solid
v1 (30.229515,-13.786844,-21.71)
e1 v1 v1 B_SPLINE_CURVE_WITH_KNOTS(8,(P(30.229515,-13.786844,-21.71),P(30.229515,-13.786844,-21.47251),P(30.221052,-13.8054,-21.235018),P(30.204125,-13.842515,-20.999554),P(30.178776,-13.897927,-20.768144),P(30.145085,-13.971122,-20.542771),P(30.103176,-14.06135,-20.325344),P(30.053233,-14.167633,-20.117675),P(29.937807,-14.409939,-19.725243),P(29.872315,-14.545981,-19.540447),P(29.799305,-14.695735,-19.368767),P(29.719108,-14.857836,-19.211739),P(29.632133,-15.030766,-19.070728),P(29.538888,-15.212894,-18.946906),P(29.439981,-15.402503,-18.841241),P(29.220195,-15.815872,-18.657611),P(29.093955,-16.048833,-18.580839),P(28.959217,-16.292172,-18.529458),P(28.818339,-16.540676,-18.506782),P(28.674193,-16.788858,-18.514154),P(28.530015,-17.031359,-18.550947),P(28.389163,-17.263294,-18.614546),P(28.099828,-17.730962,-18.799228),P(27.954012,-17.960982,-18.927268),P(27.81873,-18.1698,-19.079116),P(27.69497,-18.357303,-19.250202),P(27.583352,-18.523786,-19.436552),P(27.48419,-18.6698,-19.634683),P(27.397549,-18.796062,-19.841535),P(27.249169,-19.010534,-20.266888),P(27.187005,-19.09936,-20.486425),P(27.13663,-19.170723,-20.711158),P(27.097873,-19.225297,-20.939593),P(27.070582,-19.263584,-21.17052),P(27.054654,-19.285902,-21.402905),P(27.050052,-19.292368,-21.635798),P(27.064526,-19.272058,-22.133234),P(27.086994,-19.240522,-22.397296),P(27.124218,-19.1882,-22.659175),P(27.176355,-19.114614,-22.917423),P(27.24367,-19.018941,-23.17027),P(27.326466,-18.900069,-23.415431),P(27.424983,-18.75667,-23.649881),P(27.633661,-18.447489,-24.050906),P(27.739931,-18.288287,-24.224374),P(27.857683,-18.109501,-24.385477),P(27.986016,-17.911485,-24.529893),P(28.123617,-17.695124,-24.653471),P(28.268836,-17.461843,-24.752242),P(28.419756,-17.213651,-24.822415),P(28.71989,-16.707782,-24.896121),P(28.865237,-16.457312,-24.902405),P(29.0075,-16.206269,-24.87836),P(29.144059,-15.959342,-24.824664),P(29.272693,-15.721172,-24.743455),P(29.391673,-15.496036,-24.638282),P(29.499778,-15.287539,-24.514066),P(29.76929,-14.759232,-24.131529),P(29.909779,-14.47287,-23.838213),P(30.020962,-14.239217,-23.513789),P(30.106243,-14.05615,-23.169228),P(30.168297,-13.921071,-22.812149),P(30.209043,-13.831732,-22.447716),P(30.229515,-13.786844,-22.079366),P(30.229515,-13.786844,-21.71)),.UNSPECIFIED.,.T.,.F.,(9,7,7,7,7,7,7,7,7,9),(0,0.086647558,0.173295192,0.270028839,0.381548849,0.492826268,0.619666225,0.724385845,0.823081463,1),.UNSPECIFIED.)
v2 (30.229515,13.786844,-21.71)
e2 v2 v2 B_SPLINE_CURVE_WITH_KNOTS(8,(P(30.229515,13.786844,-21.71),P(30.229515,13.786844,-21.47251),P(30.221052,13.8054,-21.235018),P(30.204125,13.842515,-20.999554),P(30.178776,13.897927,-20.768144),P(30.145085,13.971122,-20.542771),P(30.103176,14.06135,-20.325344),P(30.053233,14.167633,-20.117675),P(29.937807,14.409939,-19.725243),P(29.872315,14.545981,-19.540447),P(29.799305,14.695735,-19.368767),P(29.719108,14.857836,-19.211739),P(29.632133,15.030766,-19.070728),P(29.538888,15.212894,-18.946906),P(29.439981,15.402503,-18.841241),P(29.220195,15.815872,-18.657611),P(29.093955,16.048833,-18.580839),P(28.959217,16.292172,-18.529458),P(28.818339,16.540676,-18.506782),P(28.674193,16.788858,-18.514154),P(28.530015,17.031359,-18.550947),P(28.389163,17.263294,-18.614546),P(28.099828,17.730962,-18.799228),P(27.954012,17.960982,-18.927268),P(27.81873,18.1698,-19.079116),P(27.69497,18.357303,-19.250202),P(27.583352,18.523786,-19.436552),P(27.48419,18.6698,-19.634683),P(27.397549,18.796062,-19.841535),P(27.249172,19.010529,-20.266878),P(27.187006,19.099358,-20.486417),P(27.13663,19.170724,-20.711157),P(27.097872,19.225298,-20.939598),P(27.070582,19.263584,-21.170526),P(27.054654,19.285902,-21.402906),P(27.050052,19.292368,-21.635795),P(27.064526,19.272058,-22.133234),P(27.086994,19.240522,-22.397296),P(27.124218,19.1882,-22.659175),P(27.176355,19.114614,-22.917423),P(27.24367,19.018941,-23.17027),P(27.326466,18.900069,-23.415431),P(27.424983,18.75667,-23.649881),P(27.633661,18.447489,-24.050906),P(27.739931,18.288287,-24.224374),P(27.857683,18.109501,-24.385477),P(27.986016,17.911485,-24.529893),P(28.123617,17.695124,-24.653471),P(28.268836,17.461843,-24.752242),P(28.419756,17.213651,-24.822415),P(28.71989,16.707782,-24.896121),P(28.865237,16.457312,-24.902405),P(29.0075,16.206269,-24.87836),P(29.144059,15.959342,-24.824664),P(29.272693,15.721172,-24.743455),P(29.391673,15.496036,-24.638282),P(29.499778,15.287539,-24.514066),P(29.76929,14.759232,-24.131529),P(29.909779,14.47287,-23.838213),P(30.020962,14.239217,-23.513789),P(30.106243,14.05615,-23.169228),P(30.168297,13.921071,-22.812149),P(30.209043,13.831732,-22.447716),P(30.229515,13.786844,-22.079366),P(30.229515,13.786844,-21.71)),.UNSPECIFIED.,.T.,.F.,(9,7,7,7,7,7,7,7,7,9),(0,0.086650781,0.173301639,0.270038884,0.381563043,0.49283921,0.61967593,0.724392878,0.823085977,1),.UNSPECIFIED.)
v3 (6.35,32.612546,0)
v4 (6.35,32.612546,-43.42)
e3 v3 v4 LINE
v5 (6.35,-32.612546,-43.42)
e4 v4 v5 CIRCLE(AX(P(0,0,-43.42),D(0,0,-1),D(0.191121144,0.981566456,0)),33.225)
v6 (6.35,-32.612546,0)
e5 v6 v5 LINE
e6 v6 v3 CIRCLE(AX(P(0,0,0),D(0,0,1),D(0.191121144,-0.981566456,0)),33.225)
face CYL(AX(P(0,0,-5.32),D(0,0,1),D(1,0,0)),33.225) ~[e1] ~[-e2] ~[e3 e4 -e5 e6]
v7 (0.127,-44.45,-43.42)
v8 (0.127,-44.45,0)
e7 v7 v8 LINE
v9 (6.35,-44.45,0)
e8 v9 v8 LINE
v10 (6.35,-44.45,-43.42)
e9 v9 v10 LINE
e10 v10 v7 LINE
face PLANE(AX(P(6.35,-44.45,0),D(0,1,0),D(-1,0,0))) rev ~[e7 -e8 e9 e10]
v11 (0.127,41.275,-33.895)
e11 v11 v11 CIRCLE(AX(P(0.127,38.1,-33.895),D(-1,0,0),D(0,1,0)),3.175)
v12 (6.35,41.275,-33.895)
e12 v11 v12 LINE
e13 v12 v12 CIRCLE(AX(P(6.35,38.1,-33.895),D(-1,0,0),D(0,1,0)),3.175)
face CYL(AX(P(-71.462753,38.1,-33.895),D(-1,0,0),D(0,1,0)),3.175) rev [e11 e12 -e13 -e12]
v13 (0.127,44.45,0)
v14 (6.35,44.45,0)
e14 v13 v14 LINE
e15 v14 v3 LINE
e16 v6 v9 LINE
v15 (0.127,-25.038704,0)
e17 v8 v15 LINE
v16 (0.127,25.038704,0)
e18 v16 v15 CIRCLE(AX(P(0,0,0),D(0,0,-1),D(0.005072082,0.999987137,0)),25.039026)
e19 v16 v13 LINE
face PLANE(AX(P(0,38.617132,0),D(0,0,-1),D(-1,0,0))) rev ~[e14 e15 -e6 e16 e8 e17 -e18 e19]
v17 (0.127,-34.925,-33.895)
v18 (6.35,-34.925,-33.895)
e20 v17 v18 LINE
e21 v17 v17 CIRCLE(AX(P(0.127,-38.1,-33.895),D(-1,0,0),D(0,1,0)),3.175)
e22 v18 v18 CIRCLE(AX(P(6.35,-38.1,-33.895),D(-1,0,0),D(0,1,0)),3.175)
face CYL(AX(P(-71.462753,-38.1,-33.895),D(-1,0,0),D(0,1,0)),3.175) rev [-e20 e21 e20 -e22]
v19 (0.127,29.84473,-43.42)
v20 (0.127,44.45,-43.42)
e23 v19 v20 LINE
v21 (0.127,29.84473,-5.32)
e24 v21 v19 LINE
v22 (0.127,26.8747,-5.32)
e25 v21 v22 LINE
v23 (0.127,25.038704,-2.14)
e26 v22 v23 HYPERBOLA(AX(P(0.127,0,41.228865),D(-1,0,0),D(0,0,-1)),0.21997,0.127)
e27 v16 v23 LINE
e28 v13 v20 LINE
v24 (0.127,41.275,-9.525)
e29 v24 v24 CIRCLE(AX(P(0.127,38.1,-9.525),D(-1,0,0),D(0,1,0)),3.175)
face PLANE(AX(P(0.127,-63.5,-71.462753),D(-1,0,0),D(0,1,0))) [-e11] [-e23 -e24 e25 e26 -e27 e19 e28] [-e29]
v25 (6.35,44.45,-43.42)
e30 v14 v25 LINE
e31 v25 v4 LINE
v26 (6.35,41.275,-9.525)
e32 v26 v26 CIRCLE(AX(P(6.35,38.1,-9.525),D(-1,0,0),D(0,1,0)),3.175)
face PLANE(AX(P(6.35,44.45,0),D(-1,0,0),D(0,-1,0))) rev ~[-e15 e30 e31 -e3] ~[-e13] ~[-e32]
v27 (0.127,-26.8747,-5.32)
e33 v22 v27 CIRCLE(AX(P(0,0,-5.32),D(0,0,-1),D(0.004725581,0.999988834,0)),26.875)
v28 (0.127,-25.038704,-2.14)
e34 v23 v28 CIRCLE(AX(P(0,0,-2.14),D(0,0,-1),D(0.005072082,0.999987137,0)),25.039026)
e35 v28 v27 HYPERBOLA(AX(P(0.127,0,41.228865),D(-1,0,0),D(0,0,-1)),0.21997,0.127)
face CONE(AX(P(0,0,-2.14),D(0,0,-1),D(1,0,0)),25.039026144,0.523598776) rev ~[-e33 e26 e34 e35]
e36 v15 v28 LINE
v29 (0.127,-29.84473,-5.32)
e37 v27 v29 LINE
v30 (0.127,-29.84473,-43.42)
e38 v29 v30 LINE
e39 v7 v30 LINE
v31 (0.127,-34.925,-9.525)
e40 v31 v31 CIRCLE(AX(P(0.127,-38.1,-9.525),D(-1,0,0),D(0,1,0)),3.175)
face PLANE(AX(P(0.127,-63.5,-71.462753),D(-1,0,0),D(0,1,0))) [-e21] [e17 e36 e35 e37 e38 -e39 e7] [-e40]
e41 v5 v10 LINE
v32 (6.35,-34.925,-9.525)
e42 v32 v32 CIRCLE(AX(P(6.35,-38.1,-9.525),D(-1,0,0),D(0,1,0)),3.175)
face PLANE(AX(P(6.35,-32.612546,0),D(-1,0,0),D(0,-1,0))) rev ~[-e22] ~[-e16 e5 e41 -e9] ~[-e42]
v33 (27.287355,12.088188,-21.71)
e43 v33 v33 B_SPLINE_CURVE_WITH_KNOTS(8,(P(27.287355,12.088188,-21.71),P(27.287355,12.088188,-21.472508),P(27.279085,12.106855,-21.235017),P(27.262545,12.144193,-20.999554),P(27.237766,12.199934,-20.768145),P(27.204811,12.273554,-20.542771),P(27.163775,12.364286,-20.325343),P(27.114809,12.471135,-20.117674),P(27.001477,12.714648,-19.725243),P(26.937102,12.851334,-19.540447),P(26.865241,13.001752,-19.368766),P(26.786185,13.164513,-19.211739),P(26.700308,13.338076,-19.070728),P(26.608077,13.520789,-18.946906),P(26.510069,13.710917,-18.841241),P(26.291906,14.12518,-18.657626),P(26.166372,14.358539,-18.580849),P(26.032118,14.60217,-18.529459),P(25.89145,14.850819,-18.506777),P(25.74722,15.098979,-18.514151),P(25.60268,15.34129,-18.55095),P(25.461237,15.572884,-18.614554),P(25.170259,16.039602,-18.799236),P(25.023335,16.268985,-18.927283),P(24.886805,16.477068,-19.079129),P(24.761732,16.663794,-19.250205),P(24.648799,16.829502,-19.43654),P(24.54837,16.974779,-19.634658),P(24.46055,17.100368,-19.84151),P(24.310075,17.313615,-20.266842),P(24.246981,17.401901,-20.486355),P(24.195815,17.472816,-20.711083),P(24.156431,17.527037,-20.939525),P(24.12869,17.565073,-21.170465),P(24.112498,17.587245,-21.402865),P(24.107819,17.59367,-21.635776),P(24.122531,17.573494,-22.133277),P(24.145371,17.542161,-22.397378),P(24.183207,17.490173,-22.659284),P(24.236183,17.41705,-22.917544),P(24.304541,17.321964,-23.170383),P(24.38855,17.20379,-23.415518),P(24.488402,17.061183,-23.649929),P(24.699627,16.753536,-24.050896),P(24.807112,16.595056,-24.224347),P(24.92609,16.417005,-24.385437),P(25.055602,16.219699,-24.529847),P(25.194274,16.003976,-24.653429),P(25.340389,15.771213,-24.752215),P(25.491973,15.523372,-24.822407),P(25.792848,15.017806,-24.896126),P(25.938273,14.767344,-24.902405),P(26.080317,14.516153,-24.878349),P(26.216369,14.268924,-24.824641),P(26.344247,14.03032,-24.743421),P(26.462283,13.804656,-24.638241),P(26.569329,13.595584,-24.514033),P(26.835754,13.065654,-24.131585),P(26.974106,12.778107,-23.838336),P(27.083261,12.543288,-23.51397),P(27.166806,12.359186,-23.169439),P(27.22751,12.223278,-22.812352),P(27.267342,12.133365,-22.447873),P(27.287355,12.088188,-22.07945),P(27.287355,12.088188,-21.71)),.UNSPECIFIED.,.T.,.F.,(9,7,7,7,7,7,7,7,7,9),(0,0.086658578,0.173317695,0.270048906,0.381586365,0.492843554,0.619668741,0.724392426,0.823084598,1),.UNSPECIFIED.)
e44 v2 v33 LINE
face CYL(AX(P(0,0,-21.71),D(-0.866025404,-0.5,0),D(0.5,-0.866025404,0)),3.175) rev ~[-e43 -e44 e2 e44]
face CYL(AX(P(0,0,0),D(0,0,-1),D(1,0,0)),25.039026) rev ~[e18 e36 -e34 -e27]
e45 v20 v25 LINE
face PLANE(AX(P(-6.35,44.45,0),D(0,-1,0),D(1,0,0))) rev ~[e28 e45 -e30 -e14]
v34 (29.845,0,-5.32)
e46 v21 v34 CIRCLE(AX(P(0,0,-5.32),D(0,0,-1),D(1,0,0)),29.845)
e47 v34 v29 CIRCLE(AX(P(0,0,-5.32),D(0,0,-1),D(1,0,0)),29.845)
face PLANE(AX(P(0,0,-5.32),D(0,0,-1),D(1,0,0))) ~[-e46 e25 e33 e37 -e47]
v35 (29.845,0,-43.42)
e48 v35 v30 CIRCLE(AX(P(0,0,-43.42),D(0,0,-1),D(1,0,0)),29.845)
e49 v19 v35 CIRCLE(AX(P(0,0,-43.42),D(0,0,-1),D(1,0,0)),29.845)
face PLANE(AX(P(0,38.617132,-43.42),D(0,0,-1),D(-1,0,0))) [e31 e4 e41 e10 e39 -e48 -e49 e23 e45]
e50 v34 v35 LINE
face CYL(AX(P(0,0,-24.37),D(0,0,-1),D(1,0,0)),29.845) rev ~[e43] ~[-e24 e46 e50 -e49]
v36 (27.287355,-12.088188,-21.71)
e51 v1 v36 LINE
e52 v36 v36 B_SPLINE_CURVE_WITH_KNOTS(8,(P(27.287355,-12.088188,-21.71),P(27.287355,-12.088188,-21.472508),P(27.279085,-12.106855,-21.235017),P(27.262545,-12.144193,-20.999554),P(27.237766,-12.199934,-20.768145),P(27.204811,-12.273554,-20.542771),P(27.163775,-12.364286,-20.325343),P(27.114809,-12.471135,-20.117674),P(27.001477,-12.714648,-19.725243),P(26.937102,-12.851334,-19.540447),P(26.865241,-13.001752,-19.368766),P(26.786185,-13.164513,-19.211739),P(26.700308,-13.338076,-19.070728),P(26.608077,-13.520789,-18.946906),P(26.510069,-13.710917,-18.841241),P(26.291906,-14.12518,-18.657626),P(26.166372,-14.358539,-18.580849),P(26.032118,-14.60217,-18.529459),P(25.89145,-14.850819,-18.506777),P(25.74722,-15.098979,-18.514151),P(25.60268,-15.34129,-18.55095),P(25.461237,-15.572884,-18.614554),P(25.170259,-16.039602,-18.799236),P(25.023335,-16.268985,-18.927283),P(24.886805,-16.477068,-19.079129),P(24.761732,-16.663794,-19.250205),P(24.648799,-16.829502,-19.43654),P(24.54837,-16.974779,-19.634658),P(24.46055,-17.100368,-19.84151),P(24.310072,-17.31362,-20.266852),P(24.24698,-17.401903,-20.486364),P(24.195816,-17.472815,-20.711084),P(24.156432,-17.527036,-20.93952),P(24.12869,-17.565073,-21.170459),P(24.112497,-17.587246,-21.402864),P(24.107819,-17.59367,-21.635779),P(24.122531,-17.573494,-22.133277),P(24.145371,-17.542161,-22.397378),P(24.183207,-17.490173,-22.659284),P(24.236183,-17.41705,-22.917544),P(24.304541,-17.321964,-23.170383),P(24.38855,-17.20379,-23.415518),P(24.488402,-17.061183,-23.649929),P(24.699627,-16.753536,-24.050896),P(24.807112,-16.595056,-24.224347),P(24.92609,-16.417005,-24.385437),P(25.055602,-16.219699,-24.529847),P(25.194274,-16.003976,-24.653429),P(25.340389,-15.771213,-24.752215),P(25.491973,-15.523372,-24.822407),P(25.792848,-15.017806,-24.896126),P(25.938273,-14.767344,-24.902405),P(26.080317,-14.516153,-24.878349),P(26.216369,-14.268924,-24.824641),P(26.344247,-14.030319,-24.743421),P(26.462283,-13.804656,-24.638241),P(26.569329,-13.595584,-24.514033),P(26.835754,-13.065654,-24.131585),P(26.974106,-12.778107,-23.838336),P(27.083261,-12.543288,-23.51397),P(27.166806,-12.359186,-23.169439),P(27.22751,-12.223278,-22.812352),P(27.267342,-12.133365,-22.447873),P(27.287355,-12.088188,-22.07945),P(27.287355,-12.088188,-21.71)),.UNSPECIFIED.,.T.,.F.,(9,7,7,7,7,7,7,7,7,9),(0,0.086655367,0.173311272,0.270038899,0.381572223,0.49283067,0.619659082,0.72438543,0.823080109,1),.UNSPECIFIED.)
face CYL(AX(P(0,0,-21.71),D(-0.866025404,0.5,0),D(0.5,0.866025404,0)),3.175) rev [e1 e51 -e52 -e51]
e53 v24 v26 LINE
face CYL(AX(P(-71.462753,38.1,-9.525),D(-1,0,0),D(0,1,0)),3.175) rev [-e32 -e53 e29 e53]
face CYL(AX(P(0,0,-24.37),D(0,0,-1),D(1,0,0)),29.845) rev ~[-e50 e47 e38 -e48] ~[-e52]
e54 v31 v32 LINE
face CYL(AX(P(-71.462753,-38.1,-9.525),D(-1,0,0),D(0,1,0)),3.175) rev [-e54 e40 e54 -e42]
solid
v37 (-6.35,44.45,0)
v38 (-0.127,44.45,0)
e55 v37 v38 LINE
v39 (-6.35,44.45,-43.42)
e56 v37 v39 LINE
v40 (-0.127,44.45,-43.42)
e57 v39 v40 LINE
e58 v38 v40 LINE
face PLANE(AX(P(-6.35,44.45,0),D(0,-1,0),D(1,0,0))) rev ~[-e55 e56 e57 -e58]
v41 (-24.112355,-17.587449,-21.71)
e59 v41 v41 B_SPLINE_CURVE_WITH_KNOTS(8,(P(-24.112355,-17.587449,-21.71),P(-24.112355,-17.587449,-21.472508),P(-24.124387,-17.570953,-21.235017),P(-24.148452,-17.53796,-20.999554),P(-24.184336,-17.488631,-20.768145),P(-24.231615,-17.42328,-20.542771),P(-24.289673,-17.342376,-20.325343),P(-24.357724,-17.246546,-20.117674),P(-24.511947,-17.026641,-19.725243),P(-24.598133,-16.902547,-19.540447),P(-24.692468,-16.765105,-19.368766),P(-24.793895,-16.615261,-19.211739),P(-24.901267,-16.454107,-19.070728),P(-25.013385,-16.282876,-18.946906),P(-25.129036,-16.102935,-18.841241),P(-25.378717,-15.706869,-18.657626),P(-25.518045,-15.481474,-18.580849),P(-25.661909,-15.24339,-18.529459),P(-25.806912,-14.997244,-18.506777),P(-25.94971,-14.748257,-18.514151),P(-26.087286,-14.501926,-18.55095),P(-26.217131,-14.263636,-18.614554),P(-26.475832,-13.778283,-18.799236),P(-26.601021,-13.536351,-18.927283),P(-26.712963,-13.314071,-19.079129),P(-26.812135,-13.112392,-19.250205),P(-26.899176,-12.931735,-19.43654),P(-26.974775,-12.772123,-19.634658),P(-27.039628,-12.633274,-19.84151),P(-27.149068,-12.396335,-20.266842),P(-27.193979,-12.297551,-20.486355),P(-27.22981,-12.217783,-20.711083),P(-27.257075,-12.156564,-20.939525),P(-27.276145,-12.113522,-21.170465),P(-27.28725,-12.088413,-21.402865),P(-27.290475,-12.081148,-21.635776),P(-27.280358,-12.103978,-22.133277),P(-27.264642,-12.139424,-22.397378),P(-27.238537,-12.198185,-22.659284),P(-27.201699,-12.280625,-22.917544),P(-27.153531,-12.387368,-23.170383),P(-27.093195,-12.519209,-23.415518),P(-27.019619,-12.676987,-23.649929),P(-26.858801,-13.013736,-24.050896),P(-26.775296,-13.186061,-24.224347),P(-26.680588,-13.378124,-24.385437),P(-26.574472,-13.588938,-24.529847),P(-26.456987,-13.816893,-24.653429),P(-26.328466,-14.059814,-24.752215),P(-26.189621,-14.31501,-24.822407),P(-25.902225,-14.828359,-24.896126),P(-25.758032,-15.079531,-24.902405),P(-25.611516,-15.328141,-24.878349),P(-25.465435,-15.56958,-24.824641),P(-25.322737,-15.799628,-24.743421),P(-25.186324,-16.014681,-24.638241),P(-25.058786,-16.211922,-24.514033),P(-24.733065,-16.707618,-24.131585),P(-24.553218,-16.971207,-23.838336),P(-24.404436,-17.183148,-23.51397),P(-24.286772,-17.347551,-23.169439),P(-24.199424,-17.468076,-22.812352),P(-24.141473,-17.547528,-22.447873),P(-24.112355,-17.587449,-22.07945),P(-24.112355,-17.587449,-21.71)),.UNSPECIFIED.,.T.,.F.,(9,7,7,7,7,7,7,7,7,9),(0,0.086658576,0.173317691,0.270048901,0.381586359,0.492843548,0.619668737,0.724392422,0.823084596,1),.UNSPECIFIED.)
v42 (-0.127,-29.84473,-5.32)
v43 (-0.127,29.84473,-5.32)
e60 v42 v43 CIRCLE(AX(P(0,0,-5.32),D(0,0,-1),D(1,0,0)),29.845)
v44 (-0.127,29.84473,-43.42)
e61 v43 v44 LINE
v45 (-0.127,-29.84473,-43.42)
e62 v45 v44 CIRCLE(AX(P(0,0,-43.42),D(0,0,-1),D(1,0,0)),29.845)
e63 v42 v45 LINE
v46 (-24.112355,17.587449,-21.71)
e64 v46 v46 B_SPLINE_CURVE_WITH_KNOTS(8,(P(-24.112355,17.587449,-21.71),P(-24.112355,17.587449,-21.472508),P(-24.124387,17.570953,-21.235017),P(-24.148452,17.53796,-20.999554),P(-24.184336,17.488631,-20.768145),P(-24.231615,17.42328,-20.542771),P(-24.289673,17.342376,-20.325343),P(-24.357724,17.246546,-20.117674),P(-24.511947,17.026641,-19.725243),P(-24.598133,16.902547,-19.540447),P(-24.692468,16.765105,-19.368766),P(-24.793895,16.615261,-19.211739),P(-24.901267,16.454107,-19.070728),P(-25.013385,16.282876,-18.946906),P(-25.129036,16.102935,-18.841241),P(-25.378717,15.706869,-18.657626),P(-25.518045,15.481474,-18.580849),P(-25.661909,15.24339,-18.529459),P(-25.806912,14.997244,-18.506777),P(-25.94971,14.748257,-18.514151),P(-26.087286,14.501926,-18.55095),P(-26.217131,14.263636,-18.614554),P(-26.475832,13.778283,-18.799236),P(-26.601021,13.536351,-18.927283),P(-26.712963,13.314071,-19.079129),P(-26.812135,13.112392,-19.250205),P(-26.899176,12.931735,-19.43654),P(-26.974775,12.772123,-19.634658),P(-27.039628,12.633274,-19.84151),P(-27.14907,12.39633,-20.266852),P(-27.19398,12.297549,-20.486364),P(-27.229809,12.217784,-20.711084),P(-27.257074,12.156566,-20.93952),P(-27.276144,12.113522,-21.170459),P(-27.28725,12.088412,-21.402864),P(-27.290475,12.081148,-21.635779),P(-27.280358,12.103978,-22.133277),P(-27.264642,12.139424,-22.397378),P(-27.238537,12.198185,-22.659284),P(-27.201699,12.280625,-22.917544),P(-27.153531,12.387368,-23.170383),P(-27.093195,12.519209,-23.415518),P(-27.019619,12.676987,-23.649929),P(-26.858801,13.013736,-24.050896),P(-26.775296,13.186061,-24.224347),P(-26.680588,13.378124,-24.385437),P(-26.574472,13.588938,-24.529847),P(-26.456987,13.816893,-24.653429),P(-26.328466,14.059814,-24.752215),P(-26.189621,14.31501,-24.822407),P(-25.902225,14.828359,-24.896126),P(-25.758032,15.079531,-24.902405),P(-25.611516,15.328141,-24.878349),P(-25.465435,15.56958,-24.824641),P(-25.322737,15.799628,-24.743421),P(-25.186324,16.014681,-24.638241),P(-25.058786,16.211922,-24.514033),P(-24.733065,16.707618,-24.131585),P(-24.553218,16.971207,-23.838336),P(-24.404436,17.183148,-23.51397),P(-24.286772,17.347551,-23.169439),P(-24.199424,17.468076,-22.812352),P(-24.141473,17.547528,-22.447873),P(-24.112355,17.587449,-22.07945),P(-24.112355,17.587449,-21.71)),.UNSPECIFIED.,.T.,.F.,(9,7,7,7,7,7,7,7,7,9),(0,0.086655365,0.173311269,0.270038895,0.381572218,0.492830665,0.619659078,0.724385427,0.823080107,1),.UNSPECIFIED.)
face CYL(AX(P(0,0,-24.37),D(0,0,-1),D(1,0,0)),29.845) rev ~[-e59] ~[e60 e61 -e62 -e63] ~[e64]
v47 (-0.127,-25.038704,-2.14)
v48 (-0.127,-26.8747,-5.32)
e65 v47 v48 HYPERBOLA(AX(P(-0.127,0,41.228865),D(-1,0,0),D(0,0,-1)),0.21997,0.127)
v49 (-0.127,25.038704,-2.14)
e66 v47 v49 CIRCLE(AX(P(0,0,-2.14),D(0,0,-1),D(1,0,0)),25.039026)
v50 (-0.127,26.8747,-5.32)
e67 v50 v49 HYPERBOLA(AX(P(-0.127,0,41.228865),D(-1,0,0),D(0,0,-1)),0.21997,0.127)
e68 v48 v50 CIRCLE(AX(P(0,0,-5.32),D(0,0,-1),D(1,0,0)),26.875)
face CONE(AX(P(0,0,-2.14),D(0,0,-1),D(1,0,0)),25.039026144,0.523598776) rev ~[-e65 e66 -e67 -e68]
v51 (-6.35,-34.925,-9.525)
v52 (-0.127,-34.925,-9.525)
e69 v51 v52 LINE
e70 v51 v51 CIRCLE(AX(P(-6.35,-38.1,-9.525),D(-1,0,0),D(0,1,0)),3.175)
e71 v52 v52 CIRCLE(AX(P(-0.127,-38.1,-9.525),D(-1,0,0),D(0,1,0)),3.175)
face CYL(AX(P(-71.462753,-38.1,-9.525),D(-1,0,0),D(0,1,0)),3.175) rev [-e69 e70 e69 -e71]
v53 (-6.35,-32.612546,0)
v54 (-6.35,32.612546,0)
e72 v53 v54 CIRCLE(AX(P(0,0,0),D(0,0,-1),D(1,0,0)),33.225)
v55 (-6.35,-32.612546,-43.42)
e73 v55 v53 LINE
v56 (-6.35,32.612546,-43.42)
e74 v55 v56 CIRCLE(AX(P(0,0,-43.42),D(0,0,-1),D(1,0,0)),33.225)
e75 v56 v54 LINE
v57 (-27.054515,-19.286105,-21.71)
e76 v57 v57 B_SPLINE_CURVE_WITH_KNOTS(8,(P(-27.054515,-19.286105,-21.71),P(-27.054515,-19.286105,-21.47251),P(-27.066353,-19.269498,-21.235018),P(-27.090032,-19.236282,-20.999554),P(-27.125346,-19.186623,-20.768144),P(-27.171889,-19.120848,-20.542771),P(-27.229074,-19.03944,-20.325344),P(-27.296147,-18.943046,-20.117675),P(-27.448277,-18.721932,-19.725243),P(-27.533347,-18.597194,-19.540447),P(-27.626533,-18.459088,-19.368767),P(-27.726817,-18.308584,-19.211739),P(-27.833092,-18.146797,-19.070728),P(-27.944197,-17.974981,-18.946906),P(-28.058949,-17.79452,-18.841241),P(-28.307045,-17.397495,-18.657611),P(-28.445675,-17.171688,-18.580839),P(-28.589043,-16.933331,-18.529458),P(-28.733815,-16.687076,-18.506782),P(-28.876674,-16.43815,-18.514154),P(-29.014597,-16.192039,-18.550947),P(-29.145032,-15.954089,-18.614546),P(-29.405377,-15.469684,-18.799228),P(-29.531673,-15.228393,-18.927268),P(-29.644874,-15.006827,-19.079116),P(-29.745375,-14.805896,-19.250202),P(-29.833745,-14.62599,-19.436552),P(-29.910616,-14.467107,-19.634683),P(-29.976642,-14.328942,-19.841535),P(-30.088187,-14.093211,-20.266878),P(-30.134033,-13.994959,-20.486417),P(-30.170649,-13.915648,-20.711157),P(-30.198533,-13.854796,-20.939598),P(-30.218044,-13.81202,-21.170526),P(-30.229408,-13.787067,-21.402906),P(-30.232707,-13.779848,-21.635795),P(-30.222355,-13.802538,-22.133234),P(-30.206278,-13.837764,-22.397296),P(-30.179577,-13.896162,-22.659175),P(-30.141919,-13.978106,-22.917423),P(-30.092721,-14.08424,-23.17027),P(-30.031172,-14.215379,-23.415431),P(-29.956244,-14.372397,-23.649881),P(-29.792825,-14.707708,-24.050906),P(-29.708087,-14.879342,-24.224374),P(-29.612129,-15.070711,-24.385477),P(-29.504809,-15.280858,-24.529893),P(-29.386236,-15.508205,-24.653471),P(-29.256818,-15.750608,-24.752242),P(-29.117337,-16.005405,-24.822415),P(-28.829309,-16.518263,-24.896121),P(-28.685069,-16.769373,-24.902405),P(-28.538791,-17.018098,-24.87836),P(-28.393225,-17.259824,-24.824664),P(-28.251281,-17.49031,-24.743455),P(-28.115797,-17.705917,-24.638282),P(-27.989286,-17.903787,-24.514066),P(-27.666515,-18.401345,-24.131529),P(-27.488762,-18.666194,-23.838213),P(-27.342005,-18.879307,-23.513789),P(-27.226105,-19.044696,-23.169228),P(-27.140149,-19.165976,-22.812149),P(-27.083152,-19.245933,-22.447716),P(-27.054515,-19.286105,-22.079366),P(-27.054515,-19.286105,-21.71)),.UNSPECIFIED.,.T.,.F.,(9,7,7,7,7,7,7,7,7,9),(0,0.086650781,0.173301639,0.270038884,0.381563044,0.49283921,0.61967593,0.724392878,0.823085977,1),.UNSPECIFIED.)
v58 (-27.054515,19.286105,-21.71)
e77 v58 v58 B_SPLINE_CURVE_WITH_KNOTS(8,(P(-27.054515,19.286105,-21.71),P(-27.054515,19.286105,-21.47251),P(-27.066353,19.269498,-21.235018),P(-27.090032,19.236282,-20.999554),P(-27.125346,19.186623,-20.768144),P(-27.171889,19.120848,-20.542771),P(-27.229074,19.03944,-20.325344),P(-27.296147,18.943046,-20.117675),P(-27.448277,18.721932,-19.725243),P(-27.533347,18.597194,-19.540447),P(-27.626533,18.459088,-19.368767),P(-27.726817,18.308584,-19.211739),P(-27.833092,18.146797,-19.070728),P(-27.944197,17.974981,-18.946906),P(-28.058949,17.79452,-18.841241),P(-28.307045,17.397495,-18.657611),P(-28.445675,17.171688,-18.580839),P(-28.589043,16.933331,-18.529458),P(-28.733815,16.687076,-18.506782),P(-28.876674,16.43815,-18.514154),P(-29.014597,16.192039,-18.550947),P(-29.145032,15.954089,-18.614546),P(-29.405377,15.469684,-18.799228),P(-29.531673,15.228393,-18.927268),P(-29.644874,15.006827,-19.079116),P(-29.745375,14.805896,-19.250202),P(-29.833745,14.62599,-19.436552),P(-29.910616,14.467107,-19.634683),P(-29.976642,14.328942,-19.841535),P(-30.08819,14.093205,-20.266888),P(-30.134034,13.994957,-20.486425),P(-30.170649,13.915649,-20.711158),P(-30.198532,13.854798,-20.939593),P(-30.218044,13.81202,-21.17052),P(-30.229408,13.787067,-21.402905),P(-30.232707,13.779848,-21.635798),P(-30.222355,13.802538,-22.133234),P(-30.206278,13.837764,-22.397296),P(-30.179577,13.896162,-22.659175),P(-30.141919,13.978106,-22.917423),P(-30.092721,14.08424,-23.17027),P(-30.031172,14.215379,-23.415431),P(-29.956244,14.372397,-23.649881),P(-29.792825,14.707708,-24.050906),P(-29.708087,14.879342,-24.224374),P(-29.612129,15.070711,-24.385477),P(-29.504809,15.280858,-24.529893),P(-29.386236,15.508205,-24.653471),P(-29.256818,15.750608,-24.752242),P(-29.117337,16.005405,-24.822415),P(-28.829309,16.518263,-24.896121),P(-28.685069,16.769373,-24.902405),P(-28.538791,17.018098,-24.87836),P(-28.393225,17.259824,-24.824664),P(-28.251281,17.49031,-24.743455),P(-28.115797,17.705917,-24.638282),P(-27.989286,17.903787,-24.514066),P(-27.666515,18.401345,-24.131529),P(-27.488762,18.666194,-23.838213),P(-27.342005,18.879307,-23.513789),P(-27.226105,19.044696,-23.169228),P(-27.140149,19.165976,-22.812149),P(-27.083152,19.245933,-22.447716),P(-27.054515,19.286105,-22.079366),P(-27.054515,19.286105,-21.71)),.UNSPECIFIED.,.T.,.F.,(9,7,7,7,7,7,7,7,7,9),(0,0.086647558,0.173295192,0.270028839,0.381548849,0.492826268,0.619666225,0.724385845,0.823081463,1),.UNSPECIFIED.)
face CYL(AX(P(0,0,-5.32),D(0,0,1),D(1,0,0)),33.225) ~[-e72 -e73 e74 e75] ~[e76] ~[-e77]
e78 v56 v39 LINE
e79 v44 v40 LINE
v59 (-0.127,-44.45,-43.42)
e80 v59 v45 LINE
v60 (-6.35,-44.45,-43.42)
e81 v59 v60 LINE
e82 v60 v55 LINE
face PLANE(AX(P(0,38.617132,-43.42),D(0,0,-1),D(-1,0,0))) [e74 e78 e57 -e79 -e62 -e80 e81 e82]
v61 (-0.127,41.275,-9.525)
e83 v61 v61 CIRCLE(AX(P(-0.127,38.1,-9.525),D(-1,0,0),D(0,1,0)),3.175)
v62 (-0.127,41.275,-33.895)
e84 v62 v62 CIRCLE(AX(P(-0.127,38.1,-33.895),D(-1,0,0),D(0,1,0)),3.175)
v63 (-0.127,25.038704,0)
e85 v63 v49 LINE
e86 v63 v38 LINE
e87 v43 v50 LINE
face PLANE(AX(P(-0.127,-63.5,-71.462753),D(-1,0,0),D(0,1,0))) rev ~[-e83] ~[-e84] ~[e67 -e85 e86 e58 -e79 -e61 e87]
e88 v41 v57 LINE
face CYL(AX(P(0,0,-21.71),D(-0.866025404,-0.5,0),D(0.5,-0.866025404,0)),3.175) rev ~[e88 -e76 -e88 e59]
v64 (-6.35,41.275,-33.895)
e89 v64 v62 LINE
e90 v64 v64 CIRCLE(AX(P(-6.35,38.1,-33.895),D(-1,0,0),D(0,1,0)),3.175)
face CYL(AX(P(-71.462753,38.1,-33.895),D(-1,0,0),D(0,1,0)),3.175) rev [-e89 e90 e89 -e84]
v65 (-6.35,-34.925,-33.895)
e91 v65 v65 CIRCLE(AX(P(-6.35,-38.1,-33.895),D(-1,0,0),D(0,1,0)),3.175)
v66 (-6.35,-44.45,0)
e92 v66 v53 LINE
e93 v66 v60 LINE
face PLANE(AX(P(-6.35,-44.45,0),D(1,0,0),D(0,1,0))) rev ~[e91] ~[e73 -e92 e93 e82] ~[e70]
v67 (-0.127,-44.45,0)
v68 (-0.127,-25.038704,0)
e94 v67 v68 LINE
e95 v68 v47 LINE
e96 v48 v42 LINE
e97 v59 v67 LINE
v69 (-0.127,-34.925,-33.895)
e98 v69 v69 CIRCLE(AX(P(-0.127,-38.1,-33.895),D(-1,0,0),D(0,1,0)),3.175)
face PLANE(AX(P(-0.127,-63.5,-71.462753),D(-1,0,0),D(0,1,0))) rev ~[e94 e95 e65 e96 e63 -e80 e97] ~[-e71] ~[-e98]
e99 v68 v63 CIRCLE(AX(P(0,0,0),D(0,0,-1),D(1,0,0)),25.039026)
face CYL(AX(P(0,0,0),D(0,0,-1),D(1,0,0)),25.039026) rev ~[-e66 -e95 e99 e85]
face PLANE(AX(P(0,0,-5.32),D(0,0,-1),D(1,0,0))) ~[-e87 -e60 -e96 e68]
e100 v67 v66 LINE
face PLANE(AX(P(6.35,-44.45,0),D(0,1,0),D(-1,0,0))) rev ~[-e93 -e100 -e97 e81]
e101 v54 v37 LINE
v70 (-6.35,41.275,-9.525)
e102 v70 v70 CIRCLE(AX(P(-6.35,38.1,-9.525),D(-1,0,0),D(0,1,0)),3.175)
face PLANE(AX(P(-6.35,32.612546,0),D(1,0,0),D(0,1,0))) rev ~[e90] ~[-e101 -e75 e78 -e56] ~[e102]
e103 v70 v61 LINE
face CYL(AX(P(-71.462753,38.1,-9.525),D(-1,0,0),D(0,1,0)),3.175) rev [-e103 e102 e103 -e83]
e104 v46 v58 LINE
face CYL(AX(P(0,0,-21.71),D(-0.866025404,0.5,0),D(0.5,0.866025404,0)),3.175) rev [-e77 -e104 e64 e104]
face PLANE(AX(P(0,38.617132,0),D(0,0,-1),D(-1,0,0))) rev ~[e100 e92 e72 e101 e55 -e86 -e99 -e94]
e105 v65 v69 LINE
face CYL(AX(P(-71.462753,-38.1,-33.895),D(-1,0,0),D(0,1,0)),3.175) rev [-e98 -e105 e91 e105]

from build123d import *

# Parameters (mm, degrees)
SKETCH8_W                = 3.38
SKETCH8_H                = 38.1
BOSS_EXTRUDE10_DEPTH     = 43.42
CUT_EXTRUDE7_DEPTH       = 71.462752749
CUT_EXTRUDE7_DEPTH_BACK  = 71.462752749
SKETCH18_R               = 3.175
SKETCH23_R               = 3.175
CUT_EXTRUDE9_DEPTH       = 71.462752749
CUT_EXTRUDE11_DEPTH      = 71.462752858
CUT_EXTRUDE11_DEPTH_BACK = 71.462752858
SKETCH25_W               = 0.254
SKETCH25_H               = 127


with BuildPart() as part:
    # Sketch2 → Revolve1 (revolve)
    with BuildSketch(Plane(origin=(0, 0, 0), x_dir=(1, 0, 0), z_dir=(0, 1, 0))):
        Polygon((25.039026144, 0), (25.039026144, 2.14), (26.875, 5.32), (33.225, 5.32), (33.225, 0), align=None)
    revolve(axis=Axis((0, 0, 0), (0, 0, -1)))

    # Sketch8 → Revolve2 (revolve)
    with BuildSketch(Plane(origin=(0, 0, 0), x_dir=(1, 0, 0), z_dir=(0, 1, 0)), mode=Mode.PRIVATE) as revolve2_sk:
        with Locations((-31.535, 24.37)):
            Rectangle(SKETCH8_W, SKETCH8_H)
    revolve(revolve2_sk.sketch.rotate(Axis((0, 0, 0), (0, 0, -1)), 180), axis=Axis((0, 0, 0), (0, 0, -1)))

    # Sketch19 → Boss-Extrude10 (add)
    with BuildSketch(Plane.XY):
        with BuildLine():
            Line((-6.35, 32.612545515), (-6.35, 44.45))
            Line((-6.35, 44.45), (6.35, 44.45))
            Line((6.35, 44.45), (6.35, 32.612545515))
            ThreePointArc((6.35, 32.612545515), (0, 33.225), (-6.35, 32.612545515))
        make_face()
        with BuildLine():
            Line((6.35, -44.45), (-6.35, -44.45))
            Line((-6.35, -44.45), (-6.35, -32.612545515))
            ThreePointArc((-6.35, -32.612545515), (0, -33.225), (6.35, -32.612545515))
            Line((6.35, -32.612545515), (6.35, -44.45))
        make_face()
    extrude(amount=-BOSS_EXTRUDE10_DEPTH)

    # Sketch18 → Cut-Extrude7 (cut, two sides: drawn at the far end of the back side and taken through both)
    with BuildSketch(Plane(origin=(0, 0, 0), x_dir=(0, 0, -1), z_dir=(1, 0, 0)).offset(-CUT_EXTRUDE7_DEPTH_BACK)):
        with Locations(Location((9.525, 38.1, 0), (0, 0, 90))):
            Circle(SKETCH18_R)
        with Locations(Location((33.895, 38.1, 0), (0, 0, 90))):
            Circle(SKETCH18_R)
        with Locations(Location((9.525, -38.1, 0), (0, 0, 90))):
            Circle(SKETCH18_R)
        with Locations(Location((33.895, -38.1, 0), (0, 0, 90))):
            Circle(SKETCH18_R)
    extrude(amount=CUT_EXTRUDE7_DEPTH + CUT_EXTRUDE7_DEPTH_BACK, mode=Mode.SUBTRACT)

    # Sketch23 → Cut-Extrude9 (cut, symmetric)
    with BuildSketch(Plane(origin=(0, 0, 0), x_dir=(-0.5000000000000014, 0.8660254037844378, 0), z_dir=(-0.8660254037844378, -0.5000000000000014, 0))):
        with Locations(Location((0, 21.71, 0), (0, 0, 180))):
            Circle(SKETCH23_R)
    cut_extrude9 = extrude(amount=CUT_EXTRUDE9_DEPTH, both=True, mode=Mode.SUBTRACT)

    # Mirror3: Cut-Extrude9 across plane
    add(cut_extrude9.mirror(Plane.ZX), mode=Mode.SUBTRACT)

    # Sketch25 → Cut-Extrude11 (cut, two sides: drawn at the far end of the back side and taken through both)
    with BuildSketch(Plane.XY.offset(-CUT_EXTRUDE11_DEPTH_BACK)):
        Rectangle(SKETCH25_W, SKETCH25_H)
    extrude(amount=CUT_EXTRUDE11_DEPTH + CUT_EXTRUDE11_DEPTH_BACK, mode=Mode.SUBTRACT)


with BuildPart() as cut_extrude11_piece_1:
    # of the separate pieces the step leaves, piece 1, a body of its own (cut_extrude11_pieces)
    add(part.part.solids().sort_by_distance((-0.127, -25.038704065, 0))[0])


with BuildPart() as cut_extrude11_piece_2:
    # of the separate pieces the step leaves, piece 2, a body of its own (cut_extrude11_pieces)
    add(part.part.solids().sort_by_distance((0.127, 25.038704065, -2.14))[0])


solid = Compound([cut_extrude11_piece_1.part, cut_extrude11_piece_2.part])
